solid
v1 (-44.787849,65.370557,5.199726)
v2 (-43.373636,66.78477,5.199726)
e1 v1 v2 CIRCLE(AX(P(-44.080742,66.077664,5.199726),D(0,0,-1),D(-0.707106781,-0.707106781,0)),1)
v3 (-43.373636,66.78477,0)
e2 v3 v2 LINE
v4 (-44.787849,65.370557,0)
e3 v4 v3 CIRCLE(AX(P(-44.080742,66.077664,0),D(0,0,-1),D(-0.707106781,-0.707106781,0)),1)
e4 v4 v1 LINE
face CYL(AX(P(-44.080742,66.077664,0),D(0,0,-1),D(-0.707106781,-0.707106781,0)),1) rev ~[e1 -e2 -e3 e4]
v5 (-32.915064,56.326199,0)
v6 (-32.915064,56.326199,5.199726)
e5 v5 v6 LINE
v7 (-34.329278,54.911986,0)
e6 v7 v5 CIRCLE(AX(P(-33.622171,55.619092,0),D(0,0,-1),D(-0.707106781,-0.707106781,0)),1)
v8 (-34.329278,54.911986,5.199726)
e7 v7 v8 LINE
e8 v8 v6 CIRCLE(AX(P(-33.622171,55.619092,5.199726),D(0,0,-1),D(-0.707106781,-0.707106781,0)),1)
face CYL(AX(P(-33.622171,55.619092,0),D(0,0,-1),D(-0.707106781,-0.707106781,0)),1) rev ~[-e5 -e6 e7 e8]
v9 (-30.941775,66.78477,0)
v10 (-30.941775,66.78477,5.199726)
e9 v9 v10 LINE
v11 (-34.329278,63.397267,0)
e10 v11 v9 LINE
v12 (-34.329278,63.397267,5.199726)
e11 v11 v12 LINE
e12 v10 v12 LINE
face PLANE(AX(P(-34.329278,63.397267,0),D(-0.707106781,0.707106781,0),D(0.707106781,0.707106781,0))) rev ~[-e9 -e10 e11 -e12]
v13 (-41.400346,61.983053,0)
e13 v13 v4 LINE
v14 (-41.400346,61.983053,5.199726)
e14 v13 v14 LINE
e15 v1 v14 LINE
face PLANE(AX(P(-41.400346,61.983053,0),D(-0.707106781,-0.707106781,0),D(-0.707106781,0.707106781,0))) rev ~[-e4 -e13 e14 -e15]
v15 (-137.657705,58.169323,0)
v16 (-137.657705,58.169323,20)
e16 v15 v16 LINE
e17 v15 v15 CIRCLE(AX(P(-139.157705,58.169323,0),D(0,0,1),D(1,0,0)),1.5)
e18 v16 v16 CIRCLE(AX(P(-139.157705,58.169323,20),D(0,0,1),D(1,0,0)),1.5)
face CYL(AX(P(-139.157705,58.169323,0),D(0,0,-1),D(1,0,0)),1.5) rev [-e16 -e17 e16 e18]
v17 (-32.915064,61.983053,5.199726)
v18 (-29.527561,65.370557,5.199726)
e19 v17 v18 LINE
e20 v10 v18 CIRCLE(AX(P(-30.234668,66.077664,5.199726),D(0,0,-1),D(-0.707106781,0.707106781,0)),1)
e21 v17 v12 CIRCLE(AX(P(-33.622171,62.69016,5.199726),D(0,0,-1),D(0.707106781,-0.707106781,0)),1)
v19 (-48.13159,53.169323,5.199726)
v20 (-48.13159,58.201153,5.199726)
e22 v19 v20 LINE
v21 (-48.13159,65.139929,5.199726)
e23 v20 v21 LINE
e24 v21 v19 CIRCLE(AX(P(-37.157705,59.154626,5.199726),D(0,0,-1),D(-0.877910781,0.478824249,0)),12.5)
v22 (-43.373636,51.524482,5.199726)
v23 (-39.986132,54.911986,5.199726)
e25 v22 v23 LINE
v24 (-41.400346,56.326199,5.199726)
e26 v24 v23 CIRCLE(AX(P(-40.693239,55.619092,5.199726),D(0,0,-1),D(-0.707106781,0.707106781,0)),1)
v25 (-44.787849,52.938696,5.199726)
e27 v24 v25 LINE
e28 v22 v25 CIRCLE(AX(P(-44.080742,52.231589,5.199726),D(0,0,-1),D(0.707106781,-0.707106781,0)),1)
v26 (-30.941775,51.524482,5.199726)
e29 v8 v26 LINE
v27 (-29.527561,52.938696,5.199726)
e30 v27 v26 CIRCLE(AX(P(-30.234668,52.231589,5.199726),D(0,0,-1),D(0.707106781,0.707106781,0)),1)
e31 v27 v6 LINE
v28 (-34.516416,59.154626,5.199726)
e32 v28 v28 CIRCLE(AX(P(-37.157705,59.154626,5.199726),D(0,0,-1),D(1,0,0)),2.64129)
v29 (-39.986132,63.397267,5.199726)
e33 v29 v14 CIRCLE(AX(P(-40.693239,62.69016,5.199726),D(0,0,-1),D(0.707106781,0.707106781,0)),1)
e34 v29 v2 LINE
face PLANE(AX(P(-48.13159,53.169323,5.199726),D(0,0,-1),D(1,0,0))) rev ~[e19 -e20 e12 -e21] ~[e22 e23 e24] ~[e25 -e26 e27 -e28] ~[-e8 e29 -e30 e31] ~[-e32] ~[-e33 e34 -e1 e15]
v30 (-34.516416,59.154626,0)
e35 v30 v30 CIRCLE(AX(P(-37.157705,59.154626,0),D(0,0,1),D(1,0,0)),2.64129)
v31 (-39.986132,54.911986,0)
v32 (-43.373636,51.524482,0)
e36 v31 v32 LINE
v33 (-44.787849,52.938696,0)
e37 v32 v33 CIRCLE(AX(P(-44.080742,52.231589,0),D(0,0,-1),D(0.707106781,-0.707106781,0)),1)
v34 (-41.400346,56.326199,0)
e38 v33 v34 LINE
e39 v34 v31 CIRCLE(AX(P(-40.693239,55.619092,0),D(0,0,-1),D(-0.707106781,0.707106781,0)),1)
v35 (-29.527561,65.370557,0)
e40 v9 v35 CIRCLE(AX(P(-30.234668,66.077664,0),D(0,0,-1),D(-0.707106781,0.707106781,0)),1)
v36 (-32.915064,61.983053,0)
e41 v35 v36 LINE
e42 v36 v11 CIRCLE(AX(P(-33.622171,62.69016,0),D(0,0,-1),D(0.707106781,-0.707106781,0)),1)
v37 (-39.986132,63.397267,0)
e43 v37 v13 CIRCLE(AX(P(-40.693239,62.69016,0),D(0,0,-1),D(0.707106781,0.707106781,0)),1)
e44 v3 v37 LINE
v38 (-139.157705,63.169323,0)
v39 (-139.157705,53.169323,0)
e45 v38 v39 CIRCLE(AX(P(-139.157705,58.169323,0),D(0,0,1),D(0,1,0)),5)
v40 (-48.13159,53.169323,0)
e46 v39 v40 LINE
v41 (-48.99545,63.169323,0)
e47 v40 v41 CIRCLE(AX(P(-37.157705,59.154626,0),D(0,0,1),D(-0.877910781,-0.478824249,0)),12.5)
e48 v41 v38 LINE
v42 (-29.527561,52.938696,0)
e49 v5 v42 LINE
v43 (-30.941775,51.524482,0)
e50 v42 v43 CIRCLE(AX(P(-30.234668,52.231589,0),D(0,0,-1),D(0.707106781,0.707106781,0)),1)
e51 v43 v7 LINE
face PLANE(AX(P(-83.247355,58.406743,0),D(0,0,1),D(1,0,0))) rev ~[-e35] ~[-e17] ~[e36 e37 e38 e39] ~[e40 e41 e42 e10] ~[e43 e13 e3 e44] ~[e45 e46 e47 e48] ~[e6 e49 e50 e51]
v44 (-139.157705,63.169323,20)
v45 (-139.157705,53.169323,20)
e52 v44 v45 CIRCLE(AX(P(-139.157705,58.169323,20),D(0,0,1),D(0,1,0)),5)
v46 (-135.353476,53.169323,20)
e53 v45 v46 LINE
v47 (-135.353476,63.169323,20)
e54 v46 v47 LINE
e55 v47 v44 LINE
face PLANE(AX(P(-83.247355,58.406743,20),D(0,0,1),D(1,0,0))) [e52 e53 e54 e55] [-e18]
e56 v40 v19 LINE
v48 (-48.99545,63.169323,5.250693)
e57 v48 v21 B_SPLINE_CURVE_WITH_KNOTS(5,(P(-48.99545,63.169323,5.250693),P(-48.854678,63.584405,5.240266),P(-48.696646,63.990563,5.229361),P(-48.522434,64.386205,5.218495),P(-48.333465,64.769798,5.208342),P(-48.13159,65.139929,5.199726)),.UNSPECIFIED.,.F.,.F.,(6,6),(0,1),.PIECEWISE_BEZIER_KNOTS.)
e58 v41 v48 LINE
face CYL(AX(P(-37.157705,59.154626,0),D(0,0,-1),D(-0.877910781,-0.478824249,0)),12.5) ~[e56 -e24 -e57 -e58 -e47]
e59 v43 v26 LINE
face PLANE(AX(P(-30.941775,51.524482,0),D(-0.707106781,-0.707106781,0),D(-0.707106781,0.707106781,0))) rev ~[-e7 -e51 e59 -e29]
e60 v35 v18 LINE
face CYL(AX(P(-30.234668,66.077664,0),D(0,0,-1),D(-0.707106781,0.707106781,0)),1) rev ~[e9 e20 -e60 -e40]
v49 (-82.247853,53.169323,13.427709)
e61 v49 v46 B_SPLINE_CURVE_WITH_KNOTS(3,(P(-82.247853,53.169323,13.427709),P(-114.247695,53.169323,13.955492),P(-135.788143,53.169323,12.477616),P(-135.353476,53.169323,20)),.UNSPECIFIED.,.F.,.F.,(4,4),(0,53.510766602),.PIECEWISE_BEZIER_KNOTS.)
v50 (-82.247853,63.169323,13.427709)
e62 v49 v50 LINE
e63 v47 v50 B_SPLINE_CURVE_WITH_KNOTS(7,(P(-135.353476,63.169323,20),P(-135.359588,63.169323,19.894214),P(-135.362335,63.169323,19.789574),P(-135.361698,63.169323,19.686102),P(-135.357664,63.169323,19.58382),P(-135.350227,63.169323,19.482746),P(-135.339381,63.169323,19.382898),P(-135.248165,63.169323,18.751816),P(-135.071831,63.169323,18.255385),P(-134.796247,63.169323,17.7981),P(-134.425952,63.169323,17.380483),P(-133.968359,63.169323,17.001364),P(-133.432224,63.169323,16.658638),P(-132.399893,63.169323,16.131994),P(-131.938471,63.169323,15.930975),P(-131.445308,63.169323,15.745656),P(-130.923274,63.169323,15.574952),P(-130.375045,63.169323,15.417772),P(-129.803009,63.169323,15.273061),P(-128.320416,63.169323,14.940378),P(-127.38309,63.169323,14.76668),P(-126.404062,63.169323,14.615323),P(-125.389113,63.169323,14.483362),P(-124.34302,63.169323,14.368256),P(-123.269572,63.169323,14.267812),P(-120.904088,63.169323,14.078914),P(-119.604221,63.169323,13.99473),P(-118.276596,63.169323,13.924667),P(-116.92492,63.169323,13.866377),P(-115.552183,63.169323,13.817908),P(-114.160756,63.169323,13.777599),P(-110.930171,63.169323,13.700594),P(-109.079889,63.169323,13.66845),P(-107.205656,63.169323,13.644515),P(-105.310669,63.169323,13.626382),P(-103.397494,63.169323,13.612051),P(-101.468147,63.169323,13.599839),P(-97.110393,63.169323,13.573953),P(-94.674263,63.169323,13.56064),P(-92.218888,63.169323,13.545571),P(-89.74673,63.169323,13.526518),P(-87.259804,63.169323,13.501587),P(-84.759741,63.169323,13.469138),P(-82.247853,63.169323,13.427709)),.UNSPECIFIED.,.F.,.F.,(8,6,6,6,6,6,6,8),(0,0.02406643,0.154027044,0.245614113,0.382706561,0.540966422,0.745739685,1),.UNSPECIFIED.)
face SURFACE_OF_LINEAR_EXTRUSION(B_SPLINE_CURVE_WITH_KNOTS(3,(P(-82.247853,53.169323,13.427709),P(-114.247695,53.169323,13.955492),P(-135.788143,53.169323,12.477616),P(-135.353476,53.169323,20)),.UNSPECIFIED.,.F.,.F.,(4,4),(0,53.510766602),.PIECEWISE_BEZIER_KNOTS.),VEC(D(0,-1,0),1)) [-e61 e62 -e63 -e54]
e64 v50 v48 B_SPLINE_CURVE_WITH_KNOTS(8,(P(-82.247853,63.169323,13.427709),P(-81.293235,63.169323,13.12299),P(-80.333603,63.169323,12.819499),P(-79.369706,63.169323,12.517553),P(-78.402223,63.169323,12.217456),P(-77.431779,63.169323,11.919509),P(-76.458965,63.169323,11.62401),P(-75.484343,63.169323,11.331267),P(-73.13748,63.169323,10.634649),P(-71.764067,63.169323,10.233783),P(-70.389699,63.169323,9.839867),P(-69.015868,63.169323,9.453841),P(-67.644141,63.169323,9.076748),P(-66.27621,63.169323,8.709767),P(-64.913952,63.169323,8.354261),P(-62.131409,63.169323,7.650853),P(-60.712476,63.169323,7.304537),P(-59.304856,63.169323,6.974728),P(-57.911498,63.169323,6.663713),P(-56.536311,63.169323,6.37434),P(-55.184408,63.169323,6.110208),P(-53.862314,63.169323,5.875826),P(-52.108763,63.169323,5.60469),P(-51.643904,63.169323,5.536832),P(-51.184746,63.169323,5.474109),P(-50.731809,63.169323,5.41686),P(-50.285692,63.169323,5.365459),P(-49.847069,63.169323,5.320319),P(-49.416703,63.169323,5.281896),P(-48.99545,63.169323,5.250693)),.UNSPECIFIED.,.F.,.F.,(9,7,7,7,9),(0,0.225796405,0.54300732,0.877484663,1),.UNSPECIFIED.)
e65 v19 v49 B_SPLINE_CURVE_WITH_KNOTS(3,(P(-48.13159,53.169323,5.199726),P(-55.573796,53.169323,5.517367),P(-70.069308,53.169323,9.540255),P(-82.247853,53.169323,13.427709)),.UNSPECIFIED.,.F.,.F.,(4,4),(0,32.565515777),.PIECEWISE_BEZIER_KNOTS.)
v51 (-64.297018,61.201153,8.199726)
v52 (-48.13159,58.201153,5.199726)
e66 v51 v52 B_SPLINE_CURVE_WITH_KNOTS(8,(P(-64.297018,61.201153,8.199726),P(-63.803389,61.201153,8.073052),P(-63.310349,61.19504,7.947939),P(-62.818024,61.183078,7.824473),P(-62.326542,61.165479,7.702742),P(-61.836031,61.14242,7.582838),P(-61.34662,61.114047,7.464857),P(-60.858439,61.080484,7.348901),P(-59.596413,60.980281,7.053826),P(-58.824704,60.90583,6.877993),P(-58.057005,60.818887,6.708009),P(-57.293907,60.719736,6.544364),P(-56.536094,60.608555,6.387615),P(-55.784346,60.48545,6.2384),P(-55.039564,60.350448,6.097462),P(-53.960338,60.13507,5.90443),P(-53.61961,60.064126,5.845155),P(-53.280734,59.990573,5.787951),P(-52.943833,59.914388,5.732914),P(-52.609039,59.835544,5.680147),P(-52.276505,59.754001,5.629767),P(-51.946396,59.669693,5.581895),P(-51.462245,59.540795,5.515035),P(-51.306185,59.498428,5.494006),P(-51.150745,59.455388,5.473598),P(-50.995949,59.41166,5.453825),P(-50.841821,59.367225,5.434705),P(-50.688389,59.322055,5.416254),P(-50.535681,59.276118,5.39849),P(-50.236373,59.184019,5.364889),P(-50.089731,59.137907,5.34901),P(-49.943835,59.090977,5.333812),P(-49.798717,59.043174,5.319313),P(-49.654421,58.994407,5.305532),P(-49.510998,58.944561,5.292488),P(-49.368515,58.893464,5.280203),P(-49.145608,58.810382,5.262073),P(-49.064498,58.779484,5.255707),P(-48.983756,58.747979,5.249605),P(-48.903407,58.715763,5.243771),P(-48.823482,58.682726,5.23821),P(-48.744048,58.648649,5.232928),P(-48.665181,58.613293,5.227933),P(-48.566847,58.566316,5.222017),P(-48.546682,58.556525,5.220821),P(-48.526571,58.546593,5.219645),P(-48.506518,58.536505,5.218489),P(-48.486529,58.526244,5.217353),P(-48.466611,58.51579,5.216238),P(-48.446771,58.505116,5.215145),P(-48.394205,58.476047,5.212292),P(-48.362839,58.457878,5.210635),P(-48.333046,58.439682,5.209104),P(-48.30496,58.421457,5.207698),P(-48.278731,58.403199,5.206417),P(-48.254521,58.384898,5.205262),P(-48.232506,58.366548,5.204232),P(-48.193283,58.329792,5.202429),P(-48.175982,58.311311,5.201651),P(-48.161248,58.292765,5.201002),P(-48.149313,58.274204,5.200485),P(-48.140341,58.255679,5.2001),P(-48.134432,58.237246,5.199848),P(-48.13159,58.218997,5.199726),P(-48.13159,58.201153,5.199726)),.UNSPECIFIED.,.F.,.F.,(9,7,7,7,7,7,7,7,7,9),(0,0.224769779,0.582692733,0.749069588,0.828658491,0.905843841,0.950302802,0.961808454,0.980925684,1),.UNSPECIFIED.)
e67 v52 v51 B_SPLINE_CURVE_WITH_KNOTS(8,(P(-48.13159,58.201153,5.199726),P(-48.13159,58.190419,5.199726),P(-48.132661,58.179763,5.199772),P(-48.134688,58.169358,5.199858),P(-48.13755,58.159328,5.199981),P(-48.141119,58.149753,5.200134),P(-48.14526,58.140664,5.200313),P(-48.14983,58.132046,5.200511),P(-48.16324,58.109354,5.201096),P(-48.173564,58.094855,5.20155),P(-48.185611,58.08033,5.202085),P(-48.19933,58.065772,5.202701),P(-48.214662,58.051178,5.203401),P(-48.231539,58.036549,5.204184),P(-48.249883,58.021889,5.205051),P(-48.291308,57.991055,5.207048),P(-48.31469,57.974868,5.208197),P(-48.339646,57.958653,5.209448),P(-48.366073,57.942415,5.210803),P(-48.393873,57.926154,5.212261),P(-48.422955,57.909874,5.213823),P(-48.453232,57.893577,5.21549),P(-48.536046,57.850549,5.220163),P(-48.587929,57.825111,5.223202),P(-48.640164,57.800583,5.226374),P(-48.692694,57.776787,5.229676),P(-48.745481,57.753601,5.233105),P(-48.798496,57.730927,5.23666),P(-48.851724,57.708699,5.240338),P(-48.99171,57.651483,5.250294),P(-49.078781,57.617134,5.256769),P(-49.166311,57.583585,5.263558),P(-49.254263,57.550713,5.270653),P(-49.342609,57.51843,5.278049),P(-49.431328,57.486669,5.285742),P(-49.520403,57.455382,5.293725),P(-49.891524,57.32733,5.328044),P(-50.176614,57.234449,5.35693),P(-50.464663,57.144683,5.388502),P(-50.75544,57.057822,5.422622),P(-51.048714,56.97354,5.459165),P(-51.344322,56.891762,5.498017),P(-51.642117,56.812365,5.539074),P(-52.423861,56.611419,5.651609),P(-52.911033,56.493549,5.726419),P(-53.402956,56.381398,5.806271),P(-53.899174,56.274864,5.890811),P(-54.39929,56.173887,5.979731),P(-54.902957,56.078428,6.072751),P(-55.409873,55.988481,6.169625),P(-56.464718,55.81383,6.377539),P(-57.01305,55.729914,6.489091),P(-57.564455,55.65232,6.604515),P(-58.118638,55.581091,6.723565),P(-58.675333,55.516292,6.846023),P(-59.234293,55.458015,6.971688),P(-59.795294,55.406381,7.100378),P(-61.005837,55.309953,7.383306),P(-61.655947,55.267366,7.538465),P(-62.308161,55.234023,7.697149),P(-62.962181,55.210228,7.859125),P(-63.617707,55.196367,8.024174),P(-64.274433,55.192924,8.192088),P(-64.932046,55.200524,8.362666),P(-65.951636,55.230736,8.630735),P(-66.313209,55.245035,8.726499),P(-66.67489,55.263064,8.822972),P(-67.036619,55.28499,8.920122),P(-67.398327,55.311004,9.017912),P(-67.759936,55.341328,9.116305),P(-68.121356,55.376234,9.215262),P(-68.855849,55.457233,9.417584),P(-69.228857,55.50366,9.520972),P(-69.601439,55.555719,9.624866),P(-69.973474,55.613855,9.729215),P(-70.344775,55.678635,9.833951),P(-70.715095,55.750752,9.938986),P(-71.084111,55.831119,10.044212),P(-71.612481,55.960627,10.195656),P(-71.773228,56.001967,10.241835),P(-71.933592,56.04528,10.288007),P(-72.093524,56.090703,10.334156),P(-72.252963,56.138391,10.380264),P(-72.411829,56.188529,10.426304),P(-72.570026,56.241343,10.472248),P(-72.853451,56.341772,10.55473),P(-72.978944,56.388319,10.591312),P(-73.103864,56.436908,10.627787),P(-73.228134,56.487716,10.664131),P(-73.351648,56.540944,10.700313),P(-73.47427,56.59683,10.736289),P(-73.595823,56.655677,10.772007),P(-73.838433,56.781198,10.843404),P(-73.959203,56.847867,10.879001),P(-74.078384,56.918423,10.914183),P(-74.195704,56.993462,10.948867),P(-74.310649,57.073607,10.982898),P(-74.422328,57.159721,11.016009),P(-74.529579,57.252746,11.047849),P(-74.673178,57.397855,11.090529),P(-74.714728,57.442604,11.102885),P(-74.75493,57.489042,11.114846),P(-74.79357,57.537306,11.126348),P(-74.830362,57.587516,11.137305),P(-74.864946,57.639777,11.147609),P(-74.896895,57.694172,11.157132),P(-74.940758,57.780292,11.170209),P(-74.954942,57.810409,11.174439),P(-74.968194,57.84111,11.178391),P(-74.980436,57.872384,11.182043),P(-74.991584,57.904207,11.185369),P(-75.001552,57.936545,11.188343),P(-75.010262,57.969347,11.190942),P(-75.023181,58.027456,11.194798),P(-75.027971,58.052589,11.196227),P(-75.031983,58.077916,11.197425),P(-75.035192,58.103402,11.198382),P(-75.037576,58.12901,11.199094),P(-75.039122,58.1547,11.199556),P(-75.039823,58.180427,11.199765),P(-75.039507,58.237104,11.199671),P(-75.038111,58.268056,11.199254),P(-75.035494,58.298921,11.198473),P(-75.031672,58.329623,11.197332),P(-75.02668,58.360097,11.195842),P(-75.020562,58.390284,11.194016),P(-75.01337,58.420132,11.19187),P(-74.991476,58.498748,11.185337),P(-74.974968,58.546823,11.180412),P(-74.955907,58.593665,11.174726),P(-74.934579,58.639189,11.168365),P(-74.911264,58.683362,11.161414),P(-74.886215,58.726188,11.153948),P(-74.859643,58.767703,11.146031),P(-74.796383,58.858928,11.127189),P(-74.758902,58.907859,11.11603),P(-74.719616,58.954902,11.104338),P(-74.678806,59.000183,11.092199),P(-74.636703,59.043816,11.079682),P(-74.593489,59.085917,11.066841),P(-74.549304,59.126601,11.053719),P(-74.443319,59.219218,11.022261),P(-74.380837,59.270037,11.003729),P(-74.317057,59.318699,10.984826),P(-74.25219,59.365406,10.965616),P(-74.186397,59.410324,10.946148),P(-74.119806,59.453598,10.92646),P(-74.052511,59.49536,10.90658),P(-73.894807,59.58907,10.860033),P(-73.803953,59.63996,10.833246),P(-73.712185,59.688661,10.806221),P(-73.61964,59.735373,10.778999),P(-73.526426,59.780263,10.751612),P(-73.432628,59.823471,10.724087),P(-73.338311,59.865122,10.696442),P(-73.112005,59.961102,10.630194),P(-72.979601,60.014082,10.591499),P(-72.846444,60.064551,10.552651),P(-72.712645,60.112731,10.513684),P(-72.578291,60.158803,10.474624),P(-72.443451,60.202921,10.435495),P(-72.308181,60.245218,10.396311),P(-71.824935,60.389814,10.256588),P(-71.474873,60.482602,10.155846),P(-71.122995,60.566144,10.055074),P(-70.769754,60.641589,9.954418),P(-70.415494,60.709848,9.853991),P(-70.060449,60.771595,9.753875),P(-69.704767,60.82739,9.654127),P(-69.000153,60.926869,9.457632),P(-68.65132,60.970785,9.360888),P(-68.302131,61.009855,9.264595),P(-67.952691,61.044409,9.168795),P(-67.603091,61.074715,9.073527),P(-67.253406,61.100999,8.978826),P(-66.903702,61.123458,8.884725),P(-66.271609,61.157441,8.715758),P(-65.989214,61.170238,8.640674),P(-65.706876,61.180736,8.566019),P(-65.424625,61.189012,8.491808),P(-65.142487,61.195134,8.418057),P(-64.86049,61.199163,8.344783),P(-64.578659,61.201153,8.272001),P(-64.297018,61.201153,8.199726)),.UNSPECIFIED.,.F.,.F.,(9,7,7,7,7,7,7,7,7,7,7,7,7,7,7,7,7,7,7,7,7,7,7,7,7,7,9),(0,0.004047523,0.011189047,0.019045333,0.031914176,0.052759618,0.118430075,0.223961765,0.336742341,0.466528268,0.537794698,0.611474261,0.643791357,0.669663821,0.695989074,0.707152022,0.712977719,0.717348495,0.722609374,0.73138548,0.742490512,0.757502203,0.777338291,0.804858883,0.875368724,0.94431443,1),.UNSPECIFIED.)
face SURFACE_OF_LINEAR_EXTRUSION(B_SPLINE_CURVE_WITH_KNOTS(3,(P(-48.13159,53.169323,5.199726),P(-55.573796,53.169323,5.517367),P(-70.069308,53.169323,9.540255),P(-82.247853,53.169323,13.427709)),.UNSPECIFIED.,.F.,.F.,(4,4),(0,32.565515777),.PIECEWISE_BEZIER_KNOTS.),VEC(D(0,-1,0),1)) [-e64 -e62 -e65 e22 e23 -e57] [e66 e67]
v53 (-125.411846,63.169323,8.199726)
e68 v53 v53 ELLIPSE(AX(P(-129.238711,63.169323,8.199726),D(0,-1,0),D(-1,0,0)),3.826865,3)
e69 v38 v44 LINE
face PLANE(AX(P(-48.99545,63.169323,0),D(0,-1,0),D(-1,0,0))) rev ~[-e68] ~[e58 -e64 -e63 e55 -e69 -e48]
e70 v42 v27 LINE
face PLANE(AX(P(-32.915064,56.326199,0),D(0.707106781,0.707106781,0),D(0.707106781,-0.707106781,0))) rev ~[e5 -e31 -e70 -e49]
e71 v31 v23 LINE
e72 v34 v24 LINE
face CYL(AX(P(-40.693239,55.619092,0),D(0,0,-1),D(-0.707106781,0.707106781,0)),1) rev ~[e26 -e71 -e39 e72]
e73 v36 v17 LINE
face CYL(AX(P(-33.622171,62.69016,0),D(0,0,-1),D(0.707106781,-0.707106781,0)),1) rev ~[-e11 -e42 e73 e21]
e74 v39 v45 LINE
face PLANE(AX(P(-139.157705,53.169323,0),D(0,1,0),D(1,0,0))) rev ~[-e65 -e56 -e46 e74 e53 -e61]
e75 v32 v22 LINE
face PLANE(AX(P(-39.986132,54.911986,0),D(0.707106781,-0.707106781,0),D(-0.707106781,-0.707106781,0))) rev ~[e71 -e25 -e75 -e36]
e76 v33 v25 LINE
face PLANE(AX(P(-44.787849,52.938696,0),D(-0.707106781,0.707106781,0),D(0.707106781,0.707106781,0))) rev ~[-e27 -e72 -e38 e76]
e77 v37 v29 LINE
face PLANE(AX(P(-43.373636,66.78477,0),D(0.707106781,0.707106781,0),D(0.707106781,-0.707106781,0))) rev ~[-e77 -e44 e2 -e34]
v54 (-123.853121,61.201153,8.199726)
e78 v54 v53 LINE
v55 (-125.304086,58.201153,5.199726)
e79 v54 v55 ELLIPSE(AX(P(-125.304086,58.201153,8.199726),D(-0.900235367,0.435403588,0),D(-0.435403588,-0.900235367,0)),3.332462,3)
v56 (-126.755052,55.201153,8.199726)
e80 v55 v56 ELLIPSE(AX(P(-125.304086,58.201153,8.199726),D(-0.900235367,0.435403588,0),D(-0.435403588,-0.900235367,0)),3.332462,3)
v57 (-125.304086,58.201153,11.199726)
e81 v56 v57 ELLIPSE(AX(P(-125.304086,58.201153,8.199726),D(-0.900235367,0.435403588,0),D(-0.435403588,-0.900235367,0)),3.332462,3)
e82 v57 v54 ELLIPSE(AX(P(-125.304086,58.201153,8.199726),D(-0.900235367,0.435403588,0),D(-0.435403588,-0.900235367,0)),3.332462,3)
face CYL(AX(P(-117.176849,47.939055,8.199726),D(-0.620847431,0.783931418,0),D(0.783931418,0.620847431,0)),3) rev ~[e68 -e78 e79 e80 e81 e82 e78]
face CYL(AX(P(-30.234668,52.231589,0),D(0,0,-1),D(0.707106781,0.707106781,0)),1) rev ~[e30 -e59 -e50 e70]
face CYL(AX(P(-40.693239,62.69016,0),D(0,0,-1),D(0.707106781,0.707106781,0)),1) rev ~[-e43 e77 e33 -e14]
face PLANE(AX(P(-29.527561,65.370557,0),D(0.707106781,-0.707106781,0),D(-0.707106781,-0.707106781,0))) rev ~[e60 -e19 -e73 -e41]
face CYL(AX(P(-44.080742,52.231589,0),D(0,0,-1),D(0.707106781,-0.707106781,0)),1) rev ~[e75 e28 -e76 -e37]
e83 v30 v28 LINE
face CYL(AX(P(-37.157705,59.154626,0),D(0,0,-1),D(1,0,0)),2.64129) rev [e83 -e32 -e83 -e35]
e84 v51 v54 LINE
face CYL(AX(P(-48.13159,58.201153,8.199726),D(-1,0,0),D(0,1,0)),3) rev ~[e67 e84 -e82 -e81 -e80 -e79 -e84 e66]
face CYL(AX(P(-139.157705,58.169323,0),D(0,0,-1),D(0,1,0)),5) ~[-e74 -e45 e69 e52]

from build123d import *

# Parameters (mm, degrees)
F0_R          = 1.5
F0_R_2        = 2.6412895019
F1_DEPTH      = 20
F3_DEPTH      = 25
F3_DEPTH_BACK = 25
F6_R          = 3
F9_DEPTH      = 25


with BuildPart() as f1:
    # F0 (on Top) → F1 (new body)
    with BuildSketch(Plane.XY):
        with BuildLine():
            Line((-139.1577050821, 53.1693232265), (-48.1315898414, 53.1693232265))
            ThreePointArc((-48.1315898414, 53.1693232265), (-24.7040865671, 60.2304450376), (-48.9954501741, 63.1693232265))
            Line((-48.9954501741, 63.1693232265), (-139.1577050821, 63.1693232265))
            ThreePointArc((-139.1577050821, 63.1693232265), (-144.1577050821, 58.1693232265), (-139.1577050821, 53.1693232265))
        make_face()
        with Locations((-139.1577050821, 58.1693232265)):
            Circle(F0_R, mode=Mode.SUBTRACT)
        with BuildLine():
            ThreePointArc((-43.3736355328, 51.5244823211), (-44.7878490952, 51.5244823211), (-44.7878490952, 52.9386958835))
            Line((-44.7878490952, 52.9386958835), (-41.4003457692, 56.3261992095))
            ThreePointArc((-41.4003457692, 56.3261992095), (-39.9861322069, 56.3261992095), (-39.9861322069, 54.9119856471))
            Line((-39.9861322069, 54.9119856471), (-43.3736355328, 51.5244823211))
        make_face(mode=Mode.SUBTRACT)
        with BuildLine():
            ThreePointArc((-29.527561069, 52.9386958835), (-29.527561069, 51.5244823211), (-30.9417746314, 51.5244823211))
            Line((-30.9417746314, 51.5244823211), (-34.3292779574, 54.9119856471))
            ThreePointArc((-34.3292779574, 54.9119856471), (-34.3292779574, 56.3261992095), (-32.915064395, 56.3261992095))
            Line((-32.915064395, 56.3261992095), (-29.527561069, 52.9386958835))
        make_face(mode=Mode.SUBTRACT)
        with Locations((-37.1577050821, 59.1546263342)):
            Circle(F0_R_2, mode=Mode.SUBTRACT)
        with BuildLine():
            Line((-41.4003457692, 61.9830534589), (-44.7878490952, 65.3705567849))
            ThreePointArc((-44.7878490952, 65.3705567849), (-44.7878490952, 66.7847703473), (-43.3736355328, 66.7847703473))
            Line((-43.3736355328, 66.7847703473), (-39.9861322069, 63.3972670213))
            ThreePointArc((-39.9861322069, 63.3972670213), (-39.9861322069, 61.9830534589), (-41.4003457692, 61.9830534589))
        make_face(mode=Mode.SUBTRACT)
        with BuildLine():
            ThreePointArc((-30.9417746314, 66.7847703473), (-29.527561069, 66.7847703473), (-29.527561069, 65.3705567849))
            Line((-29.527561069, 65.3705567849), (-32.915064395, 61.983053459))
            ThreePointArc((-32.915064395, 61.9830534589), (-34.3292779574, 61.9830534589), (-34.3292779574, 63.3972670213))
            Line((-34.3292779574, 63.3972670213), (-30.9417746314, 66.7847703473))
        make_face(mode=Mode.SUBTRACT)
    extrude(amount=F1_DEPTH)

    # F2 (on face) → F3 (cut, two sides)
    with BuildSketch(Plane.XZ.offset(-53.1693232265)) as f3_sk:
        with BuildLine():
            add(Edge.make_bspline(
                [(-48.1315898414, 5.1997262053), (-55.5737955735, 5.517366778), (-70.0693075174, 9.5402547737), (-82.2478533544, 13.4277092293)],
                knots=[0, 0, 0, 0, 32.5655157772, 32.5655157772, 32.5655157772, 32.5655157772], degree=3))
            Line((-48.1315898414, 5.1997262053), (66.0970867342, 5.1997262053))
            Line((66.0970867342, 5.1997262053), (64.3360104363, 23.0218202323))
            Line((64.3360104363, 23.0218202323), (-14.16737711, 23.9689107984))
            Line((-14.16737711, 23.9689107984), (-21.0809869127, 20))
            Line((-21.0809869127, 20), (-48.1315898414, 24.3437178433))
            Line((-48.1315898414, 24.3437178433), (-48.1315898414, 13.4277092293))
            Line((-48.1315898414, 13.4277092293), (-82.2478533544, 13.4277092293))
        make_face()
    extrude(amount=-F3_DEPTH, mode=Mode.SUBTRACT)
    extrude(f3_sk.sketch, amount=F3_DEPTH_BACK, mode=Mode.SUBTRACT)

    # F7: sweep along a path in F4
    with BuildLine(Plane.XY.offset(5.1997262053)) as f7_path:
        Line((-61.2067505717, 58.1693232265), (-86.7135846391, 58.1693232265))
        Line((-86.7135846391, 58.1693232265), (-125.319480896, 58.1693232265))
        Line((-125.319480896, 58.1693232265), (-138.9607042074, 75.3938183188))
    # F6 (on face) → F7 (sweep, cut)
    with BuildSketch(Plane.YZ.offset(-48.1315898414)):
        with Locations((58.2011528313, 8.1997262053)):
            Circle(F6_R)
    sweep(path=f7_path.line, transition=Transition.RIGHT, mode=Mode.SUBTRACT)

    # F8 (on face) → F9 (cut)
    with BuildSketch(Plane.XZ.offset(-53.1693232265)):
        with BuildLine():
            add(Edge.make_bspline(
                [(-82.2478533544, 13.4277092293), (-114.2476946115, 13.955491595), (-135.7881426811, 12.4776158482), (-135.3534758091, 20)],
                knots=[0, 0, 0, 0, 53.5107666015, 53.5107666015, 53.5107666015, 53.5107666015], degree=3))
            Line((-82.2478533544, 13.4277092293), (-32.9686515033, 11.7128845304))
            Line((-32.9686515033, 11.7128845304), (-32.9686515033, 37.384595722))
            Line((-32.9686515033, 37.384595722), (-135.3534758091, 20))
        make_face()
    extrude(amount=-F9_DEPTH, mode=Mode.SUBTRACT)


solid = f1.part
